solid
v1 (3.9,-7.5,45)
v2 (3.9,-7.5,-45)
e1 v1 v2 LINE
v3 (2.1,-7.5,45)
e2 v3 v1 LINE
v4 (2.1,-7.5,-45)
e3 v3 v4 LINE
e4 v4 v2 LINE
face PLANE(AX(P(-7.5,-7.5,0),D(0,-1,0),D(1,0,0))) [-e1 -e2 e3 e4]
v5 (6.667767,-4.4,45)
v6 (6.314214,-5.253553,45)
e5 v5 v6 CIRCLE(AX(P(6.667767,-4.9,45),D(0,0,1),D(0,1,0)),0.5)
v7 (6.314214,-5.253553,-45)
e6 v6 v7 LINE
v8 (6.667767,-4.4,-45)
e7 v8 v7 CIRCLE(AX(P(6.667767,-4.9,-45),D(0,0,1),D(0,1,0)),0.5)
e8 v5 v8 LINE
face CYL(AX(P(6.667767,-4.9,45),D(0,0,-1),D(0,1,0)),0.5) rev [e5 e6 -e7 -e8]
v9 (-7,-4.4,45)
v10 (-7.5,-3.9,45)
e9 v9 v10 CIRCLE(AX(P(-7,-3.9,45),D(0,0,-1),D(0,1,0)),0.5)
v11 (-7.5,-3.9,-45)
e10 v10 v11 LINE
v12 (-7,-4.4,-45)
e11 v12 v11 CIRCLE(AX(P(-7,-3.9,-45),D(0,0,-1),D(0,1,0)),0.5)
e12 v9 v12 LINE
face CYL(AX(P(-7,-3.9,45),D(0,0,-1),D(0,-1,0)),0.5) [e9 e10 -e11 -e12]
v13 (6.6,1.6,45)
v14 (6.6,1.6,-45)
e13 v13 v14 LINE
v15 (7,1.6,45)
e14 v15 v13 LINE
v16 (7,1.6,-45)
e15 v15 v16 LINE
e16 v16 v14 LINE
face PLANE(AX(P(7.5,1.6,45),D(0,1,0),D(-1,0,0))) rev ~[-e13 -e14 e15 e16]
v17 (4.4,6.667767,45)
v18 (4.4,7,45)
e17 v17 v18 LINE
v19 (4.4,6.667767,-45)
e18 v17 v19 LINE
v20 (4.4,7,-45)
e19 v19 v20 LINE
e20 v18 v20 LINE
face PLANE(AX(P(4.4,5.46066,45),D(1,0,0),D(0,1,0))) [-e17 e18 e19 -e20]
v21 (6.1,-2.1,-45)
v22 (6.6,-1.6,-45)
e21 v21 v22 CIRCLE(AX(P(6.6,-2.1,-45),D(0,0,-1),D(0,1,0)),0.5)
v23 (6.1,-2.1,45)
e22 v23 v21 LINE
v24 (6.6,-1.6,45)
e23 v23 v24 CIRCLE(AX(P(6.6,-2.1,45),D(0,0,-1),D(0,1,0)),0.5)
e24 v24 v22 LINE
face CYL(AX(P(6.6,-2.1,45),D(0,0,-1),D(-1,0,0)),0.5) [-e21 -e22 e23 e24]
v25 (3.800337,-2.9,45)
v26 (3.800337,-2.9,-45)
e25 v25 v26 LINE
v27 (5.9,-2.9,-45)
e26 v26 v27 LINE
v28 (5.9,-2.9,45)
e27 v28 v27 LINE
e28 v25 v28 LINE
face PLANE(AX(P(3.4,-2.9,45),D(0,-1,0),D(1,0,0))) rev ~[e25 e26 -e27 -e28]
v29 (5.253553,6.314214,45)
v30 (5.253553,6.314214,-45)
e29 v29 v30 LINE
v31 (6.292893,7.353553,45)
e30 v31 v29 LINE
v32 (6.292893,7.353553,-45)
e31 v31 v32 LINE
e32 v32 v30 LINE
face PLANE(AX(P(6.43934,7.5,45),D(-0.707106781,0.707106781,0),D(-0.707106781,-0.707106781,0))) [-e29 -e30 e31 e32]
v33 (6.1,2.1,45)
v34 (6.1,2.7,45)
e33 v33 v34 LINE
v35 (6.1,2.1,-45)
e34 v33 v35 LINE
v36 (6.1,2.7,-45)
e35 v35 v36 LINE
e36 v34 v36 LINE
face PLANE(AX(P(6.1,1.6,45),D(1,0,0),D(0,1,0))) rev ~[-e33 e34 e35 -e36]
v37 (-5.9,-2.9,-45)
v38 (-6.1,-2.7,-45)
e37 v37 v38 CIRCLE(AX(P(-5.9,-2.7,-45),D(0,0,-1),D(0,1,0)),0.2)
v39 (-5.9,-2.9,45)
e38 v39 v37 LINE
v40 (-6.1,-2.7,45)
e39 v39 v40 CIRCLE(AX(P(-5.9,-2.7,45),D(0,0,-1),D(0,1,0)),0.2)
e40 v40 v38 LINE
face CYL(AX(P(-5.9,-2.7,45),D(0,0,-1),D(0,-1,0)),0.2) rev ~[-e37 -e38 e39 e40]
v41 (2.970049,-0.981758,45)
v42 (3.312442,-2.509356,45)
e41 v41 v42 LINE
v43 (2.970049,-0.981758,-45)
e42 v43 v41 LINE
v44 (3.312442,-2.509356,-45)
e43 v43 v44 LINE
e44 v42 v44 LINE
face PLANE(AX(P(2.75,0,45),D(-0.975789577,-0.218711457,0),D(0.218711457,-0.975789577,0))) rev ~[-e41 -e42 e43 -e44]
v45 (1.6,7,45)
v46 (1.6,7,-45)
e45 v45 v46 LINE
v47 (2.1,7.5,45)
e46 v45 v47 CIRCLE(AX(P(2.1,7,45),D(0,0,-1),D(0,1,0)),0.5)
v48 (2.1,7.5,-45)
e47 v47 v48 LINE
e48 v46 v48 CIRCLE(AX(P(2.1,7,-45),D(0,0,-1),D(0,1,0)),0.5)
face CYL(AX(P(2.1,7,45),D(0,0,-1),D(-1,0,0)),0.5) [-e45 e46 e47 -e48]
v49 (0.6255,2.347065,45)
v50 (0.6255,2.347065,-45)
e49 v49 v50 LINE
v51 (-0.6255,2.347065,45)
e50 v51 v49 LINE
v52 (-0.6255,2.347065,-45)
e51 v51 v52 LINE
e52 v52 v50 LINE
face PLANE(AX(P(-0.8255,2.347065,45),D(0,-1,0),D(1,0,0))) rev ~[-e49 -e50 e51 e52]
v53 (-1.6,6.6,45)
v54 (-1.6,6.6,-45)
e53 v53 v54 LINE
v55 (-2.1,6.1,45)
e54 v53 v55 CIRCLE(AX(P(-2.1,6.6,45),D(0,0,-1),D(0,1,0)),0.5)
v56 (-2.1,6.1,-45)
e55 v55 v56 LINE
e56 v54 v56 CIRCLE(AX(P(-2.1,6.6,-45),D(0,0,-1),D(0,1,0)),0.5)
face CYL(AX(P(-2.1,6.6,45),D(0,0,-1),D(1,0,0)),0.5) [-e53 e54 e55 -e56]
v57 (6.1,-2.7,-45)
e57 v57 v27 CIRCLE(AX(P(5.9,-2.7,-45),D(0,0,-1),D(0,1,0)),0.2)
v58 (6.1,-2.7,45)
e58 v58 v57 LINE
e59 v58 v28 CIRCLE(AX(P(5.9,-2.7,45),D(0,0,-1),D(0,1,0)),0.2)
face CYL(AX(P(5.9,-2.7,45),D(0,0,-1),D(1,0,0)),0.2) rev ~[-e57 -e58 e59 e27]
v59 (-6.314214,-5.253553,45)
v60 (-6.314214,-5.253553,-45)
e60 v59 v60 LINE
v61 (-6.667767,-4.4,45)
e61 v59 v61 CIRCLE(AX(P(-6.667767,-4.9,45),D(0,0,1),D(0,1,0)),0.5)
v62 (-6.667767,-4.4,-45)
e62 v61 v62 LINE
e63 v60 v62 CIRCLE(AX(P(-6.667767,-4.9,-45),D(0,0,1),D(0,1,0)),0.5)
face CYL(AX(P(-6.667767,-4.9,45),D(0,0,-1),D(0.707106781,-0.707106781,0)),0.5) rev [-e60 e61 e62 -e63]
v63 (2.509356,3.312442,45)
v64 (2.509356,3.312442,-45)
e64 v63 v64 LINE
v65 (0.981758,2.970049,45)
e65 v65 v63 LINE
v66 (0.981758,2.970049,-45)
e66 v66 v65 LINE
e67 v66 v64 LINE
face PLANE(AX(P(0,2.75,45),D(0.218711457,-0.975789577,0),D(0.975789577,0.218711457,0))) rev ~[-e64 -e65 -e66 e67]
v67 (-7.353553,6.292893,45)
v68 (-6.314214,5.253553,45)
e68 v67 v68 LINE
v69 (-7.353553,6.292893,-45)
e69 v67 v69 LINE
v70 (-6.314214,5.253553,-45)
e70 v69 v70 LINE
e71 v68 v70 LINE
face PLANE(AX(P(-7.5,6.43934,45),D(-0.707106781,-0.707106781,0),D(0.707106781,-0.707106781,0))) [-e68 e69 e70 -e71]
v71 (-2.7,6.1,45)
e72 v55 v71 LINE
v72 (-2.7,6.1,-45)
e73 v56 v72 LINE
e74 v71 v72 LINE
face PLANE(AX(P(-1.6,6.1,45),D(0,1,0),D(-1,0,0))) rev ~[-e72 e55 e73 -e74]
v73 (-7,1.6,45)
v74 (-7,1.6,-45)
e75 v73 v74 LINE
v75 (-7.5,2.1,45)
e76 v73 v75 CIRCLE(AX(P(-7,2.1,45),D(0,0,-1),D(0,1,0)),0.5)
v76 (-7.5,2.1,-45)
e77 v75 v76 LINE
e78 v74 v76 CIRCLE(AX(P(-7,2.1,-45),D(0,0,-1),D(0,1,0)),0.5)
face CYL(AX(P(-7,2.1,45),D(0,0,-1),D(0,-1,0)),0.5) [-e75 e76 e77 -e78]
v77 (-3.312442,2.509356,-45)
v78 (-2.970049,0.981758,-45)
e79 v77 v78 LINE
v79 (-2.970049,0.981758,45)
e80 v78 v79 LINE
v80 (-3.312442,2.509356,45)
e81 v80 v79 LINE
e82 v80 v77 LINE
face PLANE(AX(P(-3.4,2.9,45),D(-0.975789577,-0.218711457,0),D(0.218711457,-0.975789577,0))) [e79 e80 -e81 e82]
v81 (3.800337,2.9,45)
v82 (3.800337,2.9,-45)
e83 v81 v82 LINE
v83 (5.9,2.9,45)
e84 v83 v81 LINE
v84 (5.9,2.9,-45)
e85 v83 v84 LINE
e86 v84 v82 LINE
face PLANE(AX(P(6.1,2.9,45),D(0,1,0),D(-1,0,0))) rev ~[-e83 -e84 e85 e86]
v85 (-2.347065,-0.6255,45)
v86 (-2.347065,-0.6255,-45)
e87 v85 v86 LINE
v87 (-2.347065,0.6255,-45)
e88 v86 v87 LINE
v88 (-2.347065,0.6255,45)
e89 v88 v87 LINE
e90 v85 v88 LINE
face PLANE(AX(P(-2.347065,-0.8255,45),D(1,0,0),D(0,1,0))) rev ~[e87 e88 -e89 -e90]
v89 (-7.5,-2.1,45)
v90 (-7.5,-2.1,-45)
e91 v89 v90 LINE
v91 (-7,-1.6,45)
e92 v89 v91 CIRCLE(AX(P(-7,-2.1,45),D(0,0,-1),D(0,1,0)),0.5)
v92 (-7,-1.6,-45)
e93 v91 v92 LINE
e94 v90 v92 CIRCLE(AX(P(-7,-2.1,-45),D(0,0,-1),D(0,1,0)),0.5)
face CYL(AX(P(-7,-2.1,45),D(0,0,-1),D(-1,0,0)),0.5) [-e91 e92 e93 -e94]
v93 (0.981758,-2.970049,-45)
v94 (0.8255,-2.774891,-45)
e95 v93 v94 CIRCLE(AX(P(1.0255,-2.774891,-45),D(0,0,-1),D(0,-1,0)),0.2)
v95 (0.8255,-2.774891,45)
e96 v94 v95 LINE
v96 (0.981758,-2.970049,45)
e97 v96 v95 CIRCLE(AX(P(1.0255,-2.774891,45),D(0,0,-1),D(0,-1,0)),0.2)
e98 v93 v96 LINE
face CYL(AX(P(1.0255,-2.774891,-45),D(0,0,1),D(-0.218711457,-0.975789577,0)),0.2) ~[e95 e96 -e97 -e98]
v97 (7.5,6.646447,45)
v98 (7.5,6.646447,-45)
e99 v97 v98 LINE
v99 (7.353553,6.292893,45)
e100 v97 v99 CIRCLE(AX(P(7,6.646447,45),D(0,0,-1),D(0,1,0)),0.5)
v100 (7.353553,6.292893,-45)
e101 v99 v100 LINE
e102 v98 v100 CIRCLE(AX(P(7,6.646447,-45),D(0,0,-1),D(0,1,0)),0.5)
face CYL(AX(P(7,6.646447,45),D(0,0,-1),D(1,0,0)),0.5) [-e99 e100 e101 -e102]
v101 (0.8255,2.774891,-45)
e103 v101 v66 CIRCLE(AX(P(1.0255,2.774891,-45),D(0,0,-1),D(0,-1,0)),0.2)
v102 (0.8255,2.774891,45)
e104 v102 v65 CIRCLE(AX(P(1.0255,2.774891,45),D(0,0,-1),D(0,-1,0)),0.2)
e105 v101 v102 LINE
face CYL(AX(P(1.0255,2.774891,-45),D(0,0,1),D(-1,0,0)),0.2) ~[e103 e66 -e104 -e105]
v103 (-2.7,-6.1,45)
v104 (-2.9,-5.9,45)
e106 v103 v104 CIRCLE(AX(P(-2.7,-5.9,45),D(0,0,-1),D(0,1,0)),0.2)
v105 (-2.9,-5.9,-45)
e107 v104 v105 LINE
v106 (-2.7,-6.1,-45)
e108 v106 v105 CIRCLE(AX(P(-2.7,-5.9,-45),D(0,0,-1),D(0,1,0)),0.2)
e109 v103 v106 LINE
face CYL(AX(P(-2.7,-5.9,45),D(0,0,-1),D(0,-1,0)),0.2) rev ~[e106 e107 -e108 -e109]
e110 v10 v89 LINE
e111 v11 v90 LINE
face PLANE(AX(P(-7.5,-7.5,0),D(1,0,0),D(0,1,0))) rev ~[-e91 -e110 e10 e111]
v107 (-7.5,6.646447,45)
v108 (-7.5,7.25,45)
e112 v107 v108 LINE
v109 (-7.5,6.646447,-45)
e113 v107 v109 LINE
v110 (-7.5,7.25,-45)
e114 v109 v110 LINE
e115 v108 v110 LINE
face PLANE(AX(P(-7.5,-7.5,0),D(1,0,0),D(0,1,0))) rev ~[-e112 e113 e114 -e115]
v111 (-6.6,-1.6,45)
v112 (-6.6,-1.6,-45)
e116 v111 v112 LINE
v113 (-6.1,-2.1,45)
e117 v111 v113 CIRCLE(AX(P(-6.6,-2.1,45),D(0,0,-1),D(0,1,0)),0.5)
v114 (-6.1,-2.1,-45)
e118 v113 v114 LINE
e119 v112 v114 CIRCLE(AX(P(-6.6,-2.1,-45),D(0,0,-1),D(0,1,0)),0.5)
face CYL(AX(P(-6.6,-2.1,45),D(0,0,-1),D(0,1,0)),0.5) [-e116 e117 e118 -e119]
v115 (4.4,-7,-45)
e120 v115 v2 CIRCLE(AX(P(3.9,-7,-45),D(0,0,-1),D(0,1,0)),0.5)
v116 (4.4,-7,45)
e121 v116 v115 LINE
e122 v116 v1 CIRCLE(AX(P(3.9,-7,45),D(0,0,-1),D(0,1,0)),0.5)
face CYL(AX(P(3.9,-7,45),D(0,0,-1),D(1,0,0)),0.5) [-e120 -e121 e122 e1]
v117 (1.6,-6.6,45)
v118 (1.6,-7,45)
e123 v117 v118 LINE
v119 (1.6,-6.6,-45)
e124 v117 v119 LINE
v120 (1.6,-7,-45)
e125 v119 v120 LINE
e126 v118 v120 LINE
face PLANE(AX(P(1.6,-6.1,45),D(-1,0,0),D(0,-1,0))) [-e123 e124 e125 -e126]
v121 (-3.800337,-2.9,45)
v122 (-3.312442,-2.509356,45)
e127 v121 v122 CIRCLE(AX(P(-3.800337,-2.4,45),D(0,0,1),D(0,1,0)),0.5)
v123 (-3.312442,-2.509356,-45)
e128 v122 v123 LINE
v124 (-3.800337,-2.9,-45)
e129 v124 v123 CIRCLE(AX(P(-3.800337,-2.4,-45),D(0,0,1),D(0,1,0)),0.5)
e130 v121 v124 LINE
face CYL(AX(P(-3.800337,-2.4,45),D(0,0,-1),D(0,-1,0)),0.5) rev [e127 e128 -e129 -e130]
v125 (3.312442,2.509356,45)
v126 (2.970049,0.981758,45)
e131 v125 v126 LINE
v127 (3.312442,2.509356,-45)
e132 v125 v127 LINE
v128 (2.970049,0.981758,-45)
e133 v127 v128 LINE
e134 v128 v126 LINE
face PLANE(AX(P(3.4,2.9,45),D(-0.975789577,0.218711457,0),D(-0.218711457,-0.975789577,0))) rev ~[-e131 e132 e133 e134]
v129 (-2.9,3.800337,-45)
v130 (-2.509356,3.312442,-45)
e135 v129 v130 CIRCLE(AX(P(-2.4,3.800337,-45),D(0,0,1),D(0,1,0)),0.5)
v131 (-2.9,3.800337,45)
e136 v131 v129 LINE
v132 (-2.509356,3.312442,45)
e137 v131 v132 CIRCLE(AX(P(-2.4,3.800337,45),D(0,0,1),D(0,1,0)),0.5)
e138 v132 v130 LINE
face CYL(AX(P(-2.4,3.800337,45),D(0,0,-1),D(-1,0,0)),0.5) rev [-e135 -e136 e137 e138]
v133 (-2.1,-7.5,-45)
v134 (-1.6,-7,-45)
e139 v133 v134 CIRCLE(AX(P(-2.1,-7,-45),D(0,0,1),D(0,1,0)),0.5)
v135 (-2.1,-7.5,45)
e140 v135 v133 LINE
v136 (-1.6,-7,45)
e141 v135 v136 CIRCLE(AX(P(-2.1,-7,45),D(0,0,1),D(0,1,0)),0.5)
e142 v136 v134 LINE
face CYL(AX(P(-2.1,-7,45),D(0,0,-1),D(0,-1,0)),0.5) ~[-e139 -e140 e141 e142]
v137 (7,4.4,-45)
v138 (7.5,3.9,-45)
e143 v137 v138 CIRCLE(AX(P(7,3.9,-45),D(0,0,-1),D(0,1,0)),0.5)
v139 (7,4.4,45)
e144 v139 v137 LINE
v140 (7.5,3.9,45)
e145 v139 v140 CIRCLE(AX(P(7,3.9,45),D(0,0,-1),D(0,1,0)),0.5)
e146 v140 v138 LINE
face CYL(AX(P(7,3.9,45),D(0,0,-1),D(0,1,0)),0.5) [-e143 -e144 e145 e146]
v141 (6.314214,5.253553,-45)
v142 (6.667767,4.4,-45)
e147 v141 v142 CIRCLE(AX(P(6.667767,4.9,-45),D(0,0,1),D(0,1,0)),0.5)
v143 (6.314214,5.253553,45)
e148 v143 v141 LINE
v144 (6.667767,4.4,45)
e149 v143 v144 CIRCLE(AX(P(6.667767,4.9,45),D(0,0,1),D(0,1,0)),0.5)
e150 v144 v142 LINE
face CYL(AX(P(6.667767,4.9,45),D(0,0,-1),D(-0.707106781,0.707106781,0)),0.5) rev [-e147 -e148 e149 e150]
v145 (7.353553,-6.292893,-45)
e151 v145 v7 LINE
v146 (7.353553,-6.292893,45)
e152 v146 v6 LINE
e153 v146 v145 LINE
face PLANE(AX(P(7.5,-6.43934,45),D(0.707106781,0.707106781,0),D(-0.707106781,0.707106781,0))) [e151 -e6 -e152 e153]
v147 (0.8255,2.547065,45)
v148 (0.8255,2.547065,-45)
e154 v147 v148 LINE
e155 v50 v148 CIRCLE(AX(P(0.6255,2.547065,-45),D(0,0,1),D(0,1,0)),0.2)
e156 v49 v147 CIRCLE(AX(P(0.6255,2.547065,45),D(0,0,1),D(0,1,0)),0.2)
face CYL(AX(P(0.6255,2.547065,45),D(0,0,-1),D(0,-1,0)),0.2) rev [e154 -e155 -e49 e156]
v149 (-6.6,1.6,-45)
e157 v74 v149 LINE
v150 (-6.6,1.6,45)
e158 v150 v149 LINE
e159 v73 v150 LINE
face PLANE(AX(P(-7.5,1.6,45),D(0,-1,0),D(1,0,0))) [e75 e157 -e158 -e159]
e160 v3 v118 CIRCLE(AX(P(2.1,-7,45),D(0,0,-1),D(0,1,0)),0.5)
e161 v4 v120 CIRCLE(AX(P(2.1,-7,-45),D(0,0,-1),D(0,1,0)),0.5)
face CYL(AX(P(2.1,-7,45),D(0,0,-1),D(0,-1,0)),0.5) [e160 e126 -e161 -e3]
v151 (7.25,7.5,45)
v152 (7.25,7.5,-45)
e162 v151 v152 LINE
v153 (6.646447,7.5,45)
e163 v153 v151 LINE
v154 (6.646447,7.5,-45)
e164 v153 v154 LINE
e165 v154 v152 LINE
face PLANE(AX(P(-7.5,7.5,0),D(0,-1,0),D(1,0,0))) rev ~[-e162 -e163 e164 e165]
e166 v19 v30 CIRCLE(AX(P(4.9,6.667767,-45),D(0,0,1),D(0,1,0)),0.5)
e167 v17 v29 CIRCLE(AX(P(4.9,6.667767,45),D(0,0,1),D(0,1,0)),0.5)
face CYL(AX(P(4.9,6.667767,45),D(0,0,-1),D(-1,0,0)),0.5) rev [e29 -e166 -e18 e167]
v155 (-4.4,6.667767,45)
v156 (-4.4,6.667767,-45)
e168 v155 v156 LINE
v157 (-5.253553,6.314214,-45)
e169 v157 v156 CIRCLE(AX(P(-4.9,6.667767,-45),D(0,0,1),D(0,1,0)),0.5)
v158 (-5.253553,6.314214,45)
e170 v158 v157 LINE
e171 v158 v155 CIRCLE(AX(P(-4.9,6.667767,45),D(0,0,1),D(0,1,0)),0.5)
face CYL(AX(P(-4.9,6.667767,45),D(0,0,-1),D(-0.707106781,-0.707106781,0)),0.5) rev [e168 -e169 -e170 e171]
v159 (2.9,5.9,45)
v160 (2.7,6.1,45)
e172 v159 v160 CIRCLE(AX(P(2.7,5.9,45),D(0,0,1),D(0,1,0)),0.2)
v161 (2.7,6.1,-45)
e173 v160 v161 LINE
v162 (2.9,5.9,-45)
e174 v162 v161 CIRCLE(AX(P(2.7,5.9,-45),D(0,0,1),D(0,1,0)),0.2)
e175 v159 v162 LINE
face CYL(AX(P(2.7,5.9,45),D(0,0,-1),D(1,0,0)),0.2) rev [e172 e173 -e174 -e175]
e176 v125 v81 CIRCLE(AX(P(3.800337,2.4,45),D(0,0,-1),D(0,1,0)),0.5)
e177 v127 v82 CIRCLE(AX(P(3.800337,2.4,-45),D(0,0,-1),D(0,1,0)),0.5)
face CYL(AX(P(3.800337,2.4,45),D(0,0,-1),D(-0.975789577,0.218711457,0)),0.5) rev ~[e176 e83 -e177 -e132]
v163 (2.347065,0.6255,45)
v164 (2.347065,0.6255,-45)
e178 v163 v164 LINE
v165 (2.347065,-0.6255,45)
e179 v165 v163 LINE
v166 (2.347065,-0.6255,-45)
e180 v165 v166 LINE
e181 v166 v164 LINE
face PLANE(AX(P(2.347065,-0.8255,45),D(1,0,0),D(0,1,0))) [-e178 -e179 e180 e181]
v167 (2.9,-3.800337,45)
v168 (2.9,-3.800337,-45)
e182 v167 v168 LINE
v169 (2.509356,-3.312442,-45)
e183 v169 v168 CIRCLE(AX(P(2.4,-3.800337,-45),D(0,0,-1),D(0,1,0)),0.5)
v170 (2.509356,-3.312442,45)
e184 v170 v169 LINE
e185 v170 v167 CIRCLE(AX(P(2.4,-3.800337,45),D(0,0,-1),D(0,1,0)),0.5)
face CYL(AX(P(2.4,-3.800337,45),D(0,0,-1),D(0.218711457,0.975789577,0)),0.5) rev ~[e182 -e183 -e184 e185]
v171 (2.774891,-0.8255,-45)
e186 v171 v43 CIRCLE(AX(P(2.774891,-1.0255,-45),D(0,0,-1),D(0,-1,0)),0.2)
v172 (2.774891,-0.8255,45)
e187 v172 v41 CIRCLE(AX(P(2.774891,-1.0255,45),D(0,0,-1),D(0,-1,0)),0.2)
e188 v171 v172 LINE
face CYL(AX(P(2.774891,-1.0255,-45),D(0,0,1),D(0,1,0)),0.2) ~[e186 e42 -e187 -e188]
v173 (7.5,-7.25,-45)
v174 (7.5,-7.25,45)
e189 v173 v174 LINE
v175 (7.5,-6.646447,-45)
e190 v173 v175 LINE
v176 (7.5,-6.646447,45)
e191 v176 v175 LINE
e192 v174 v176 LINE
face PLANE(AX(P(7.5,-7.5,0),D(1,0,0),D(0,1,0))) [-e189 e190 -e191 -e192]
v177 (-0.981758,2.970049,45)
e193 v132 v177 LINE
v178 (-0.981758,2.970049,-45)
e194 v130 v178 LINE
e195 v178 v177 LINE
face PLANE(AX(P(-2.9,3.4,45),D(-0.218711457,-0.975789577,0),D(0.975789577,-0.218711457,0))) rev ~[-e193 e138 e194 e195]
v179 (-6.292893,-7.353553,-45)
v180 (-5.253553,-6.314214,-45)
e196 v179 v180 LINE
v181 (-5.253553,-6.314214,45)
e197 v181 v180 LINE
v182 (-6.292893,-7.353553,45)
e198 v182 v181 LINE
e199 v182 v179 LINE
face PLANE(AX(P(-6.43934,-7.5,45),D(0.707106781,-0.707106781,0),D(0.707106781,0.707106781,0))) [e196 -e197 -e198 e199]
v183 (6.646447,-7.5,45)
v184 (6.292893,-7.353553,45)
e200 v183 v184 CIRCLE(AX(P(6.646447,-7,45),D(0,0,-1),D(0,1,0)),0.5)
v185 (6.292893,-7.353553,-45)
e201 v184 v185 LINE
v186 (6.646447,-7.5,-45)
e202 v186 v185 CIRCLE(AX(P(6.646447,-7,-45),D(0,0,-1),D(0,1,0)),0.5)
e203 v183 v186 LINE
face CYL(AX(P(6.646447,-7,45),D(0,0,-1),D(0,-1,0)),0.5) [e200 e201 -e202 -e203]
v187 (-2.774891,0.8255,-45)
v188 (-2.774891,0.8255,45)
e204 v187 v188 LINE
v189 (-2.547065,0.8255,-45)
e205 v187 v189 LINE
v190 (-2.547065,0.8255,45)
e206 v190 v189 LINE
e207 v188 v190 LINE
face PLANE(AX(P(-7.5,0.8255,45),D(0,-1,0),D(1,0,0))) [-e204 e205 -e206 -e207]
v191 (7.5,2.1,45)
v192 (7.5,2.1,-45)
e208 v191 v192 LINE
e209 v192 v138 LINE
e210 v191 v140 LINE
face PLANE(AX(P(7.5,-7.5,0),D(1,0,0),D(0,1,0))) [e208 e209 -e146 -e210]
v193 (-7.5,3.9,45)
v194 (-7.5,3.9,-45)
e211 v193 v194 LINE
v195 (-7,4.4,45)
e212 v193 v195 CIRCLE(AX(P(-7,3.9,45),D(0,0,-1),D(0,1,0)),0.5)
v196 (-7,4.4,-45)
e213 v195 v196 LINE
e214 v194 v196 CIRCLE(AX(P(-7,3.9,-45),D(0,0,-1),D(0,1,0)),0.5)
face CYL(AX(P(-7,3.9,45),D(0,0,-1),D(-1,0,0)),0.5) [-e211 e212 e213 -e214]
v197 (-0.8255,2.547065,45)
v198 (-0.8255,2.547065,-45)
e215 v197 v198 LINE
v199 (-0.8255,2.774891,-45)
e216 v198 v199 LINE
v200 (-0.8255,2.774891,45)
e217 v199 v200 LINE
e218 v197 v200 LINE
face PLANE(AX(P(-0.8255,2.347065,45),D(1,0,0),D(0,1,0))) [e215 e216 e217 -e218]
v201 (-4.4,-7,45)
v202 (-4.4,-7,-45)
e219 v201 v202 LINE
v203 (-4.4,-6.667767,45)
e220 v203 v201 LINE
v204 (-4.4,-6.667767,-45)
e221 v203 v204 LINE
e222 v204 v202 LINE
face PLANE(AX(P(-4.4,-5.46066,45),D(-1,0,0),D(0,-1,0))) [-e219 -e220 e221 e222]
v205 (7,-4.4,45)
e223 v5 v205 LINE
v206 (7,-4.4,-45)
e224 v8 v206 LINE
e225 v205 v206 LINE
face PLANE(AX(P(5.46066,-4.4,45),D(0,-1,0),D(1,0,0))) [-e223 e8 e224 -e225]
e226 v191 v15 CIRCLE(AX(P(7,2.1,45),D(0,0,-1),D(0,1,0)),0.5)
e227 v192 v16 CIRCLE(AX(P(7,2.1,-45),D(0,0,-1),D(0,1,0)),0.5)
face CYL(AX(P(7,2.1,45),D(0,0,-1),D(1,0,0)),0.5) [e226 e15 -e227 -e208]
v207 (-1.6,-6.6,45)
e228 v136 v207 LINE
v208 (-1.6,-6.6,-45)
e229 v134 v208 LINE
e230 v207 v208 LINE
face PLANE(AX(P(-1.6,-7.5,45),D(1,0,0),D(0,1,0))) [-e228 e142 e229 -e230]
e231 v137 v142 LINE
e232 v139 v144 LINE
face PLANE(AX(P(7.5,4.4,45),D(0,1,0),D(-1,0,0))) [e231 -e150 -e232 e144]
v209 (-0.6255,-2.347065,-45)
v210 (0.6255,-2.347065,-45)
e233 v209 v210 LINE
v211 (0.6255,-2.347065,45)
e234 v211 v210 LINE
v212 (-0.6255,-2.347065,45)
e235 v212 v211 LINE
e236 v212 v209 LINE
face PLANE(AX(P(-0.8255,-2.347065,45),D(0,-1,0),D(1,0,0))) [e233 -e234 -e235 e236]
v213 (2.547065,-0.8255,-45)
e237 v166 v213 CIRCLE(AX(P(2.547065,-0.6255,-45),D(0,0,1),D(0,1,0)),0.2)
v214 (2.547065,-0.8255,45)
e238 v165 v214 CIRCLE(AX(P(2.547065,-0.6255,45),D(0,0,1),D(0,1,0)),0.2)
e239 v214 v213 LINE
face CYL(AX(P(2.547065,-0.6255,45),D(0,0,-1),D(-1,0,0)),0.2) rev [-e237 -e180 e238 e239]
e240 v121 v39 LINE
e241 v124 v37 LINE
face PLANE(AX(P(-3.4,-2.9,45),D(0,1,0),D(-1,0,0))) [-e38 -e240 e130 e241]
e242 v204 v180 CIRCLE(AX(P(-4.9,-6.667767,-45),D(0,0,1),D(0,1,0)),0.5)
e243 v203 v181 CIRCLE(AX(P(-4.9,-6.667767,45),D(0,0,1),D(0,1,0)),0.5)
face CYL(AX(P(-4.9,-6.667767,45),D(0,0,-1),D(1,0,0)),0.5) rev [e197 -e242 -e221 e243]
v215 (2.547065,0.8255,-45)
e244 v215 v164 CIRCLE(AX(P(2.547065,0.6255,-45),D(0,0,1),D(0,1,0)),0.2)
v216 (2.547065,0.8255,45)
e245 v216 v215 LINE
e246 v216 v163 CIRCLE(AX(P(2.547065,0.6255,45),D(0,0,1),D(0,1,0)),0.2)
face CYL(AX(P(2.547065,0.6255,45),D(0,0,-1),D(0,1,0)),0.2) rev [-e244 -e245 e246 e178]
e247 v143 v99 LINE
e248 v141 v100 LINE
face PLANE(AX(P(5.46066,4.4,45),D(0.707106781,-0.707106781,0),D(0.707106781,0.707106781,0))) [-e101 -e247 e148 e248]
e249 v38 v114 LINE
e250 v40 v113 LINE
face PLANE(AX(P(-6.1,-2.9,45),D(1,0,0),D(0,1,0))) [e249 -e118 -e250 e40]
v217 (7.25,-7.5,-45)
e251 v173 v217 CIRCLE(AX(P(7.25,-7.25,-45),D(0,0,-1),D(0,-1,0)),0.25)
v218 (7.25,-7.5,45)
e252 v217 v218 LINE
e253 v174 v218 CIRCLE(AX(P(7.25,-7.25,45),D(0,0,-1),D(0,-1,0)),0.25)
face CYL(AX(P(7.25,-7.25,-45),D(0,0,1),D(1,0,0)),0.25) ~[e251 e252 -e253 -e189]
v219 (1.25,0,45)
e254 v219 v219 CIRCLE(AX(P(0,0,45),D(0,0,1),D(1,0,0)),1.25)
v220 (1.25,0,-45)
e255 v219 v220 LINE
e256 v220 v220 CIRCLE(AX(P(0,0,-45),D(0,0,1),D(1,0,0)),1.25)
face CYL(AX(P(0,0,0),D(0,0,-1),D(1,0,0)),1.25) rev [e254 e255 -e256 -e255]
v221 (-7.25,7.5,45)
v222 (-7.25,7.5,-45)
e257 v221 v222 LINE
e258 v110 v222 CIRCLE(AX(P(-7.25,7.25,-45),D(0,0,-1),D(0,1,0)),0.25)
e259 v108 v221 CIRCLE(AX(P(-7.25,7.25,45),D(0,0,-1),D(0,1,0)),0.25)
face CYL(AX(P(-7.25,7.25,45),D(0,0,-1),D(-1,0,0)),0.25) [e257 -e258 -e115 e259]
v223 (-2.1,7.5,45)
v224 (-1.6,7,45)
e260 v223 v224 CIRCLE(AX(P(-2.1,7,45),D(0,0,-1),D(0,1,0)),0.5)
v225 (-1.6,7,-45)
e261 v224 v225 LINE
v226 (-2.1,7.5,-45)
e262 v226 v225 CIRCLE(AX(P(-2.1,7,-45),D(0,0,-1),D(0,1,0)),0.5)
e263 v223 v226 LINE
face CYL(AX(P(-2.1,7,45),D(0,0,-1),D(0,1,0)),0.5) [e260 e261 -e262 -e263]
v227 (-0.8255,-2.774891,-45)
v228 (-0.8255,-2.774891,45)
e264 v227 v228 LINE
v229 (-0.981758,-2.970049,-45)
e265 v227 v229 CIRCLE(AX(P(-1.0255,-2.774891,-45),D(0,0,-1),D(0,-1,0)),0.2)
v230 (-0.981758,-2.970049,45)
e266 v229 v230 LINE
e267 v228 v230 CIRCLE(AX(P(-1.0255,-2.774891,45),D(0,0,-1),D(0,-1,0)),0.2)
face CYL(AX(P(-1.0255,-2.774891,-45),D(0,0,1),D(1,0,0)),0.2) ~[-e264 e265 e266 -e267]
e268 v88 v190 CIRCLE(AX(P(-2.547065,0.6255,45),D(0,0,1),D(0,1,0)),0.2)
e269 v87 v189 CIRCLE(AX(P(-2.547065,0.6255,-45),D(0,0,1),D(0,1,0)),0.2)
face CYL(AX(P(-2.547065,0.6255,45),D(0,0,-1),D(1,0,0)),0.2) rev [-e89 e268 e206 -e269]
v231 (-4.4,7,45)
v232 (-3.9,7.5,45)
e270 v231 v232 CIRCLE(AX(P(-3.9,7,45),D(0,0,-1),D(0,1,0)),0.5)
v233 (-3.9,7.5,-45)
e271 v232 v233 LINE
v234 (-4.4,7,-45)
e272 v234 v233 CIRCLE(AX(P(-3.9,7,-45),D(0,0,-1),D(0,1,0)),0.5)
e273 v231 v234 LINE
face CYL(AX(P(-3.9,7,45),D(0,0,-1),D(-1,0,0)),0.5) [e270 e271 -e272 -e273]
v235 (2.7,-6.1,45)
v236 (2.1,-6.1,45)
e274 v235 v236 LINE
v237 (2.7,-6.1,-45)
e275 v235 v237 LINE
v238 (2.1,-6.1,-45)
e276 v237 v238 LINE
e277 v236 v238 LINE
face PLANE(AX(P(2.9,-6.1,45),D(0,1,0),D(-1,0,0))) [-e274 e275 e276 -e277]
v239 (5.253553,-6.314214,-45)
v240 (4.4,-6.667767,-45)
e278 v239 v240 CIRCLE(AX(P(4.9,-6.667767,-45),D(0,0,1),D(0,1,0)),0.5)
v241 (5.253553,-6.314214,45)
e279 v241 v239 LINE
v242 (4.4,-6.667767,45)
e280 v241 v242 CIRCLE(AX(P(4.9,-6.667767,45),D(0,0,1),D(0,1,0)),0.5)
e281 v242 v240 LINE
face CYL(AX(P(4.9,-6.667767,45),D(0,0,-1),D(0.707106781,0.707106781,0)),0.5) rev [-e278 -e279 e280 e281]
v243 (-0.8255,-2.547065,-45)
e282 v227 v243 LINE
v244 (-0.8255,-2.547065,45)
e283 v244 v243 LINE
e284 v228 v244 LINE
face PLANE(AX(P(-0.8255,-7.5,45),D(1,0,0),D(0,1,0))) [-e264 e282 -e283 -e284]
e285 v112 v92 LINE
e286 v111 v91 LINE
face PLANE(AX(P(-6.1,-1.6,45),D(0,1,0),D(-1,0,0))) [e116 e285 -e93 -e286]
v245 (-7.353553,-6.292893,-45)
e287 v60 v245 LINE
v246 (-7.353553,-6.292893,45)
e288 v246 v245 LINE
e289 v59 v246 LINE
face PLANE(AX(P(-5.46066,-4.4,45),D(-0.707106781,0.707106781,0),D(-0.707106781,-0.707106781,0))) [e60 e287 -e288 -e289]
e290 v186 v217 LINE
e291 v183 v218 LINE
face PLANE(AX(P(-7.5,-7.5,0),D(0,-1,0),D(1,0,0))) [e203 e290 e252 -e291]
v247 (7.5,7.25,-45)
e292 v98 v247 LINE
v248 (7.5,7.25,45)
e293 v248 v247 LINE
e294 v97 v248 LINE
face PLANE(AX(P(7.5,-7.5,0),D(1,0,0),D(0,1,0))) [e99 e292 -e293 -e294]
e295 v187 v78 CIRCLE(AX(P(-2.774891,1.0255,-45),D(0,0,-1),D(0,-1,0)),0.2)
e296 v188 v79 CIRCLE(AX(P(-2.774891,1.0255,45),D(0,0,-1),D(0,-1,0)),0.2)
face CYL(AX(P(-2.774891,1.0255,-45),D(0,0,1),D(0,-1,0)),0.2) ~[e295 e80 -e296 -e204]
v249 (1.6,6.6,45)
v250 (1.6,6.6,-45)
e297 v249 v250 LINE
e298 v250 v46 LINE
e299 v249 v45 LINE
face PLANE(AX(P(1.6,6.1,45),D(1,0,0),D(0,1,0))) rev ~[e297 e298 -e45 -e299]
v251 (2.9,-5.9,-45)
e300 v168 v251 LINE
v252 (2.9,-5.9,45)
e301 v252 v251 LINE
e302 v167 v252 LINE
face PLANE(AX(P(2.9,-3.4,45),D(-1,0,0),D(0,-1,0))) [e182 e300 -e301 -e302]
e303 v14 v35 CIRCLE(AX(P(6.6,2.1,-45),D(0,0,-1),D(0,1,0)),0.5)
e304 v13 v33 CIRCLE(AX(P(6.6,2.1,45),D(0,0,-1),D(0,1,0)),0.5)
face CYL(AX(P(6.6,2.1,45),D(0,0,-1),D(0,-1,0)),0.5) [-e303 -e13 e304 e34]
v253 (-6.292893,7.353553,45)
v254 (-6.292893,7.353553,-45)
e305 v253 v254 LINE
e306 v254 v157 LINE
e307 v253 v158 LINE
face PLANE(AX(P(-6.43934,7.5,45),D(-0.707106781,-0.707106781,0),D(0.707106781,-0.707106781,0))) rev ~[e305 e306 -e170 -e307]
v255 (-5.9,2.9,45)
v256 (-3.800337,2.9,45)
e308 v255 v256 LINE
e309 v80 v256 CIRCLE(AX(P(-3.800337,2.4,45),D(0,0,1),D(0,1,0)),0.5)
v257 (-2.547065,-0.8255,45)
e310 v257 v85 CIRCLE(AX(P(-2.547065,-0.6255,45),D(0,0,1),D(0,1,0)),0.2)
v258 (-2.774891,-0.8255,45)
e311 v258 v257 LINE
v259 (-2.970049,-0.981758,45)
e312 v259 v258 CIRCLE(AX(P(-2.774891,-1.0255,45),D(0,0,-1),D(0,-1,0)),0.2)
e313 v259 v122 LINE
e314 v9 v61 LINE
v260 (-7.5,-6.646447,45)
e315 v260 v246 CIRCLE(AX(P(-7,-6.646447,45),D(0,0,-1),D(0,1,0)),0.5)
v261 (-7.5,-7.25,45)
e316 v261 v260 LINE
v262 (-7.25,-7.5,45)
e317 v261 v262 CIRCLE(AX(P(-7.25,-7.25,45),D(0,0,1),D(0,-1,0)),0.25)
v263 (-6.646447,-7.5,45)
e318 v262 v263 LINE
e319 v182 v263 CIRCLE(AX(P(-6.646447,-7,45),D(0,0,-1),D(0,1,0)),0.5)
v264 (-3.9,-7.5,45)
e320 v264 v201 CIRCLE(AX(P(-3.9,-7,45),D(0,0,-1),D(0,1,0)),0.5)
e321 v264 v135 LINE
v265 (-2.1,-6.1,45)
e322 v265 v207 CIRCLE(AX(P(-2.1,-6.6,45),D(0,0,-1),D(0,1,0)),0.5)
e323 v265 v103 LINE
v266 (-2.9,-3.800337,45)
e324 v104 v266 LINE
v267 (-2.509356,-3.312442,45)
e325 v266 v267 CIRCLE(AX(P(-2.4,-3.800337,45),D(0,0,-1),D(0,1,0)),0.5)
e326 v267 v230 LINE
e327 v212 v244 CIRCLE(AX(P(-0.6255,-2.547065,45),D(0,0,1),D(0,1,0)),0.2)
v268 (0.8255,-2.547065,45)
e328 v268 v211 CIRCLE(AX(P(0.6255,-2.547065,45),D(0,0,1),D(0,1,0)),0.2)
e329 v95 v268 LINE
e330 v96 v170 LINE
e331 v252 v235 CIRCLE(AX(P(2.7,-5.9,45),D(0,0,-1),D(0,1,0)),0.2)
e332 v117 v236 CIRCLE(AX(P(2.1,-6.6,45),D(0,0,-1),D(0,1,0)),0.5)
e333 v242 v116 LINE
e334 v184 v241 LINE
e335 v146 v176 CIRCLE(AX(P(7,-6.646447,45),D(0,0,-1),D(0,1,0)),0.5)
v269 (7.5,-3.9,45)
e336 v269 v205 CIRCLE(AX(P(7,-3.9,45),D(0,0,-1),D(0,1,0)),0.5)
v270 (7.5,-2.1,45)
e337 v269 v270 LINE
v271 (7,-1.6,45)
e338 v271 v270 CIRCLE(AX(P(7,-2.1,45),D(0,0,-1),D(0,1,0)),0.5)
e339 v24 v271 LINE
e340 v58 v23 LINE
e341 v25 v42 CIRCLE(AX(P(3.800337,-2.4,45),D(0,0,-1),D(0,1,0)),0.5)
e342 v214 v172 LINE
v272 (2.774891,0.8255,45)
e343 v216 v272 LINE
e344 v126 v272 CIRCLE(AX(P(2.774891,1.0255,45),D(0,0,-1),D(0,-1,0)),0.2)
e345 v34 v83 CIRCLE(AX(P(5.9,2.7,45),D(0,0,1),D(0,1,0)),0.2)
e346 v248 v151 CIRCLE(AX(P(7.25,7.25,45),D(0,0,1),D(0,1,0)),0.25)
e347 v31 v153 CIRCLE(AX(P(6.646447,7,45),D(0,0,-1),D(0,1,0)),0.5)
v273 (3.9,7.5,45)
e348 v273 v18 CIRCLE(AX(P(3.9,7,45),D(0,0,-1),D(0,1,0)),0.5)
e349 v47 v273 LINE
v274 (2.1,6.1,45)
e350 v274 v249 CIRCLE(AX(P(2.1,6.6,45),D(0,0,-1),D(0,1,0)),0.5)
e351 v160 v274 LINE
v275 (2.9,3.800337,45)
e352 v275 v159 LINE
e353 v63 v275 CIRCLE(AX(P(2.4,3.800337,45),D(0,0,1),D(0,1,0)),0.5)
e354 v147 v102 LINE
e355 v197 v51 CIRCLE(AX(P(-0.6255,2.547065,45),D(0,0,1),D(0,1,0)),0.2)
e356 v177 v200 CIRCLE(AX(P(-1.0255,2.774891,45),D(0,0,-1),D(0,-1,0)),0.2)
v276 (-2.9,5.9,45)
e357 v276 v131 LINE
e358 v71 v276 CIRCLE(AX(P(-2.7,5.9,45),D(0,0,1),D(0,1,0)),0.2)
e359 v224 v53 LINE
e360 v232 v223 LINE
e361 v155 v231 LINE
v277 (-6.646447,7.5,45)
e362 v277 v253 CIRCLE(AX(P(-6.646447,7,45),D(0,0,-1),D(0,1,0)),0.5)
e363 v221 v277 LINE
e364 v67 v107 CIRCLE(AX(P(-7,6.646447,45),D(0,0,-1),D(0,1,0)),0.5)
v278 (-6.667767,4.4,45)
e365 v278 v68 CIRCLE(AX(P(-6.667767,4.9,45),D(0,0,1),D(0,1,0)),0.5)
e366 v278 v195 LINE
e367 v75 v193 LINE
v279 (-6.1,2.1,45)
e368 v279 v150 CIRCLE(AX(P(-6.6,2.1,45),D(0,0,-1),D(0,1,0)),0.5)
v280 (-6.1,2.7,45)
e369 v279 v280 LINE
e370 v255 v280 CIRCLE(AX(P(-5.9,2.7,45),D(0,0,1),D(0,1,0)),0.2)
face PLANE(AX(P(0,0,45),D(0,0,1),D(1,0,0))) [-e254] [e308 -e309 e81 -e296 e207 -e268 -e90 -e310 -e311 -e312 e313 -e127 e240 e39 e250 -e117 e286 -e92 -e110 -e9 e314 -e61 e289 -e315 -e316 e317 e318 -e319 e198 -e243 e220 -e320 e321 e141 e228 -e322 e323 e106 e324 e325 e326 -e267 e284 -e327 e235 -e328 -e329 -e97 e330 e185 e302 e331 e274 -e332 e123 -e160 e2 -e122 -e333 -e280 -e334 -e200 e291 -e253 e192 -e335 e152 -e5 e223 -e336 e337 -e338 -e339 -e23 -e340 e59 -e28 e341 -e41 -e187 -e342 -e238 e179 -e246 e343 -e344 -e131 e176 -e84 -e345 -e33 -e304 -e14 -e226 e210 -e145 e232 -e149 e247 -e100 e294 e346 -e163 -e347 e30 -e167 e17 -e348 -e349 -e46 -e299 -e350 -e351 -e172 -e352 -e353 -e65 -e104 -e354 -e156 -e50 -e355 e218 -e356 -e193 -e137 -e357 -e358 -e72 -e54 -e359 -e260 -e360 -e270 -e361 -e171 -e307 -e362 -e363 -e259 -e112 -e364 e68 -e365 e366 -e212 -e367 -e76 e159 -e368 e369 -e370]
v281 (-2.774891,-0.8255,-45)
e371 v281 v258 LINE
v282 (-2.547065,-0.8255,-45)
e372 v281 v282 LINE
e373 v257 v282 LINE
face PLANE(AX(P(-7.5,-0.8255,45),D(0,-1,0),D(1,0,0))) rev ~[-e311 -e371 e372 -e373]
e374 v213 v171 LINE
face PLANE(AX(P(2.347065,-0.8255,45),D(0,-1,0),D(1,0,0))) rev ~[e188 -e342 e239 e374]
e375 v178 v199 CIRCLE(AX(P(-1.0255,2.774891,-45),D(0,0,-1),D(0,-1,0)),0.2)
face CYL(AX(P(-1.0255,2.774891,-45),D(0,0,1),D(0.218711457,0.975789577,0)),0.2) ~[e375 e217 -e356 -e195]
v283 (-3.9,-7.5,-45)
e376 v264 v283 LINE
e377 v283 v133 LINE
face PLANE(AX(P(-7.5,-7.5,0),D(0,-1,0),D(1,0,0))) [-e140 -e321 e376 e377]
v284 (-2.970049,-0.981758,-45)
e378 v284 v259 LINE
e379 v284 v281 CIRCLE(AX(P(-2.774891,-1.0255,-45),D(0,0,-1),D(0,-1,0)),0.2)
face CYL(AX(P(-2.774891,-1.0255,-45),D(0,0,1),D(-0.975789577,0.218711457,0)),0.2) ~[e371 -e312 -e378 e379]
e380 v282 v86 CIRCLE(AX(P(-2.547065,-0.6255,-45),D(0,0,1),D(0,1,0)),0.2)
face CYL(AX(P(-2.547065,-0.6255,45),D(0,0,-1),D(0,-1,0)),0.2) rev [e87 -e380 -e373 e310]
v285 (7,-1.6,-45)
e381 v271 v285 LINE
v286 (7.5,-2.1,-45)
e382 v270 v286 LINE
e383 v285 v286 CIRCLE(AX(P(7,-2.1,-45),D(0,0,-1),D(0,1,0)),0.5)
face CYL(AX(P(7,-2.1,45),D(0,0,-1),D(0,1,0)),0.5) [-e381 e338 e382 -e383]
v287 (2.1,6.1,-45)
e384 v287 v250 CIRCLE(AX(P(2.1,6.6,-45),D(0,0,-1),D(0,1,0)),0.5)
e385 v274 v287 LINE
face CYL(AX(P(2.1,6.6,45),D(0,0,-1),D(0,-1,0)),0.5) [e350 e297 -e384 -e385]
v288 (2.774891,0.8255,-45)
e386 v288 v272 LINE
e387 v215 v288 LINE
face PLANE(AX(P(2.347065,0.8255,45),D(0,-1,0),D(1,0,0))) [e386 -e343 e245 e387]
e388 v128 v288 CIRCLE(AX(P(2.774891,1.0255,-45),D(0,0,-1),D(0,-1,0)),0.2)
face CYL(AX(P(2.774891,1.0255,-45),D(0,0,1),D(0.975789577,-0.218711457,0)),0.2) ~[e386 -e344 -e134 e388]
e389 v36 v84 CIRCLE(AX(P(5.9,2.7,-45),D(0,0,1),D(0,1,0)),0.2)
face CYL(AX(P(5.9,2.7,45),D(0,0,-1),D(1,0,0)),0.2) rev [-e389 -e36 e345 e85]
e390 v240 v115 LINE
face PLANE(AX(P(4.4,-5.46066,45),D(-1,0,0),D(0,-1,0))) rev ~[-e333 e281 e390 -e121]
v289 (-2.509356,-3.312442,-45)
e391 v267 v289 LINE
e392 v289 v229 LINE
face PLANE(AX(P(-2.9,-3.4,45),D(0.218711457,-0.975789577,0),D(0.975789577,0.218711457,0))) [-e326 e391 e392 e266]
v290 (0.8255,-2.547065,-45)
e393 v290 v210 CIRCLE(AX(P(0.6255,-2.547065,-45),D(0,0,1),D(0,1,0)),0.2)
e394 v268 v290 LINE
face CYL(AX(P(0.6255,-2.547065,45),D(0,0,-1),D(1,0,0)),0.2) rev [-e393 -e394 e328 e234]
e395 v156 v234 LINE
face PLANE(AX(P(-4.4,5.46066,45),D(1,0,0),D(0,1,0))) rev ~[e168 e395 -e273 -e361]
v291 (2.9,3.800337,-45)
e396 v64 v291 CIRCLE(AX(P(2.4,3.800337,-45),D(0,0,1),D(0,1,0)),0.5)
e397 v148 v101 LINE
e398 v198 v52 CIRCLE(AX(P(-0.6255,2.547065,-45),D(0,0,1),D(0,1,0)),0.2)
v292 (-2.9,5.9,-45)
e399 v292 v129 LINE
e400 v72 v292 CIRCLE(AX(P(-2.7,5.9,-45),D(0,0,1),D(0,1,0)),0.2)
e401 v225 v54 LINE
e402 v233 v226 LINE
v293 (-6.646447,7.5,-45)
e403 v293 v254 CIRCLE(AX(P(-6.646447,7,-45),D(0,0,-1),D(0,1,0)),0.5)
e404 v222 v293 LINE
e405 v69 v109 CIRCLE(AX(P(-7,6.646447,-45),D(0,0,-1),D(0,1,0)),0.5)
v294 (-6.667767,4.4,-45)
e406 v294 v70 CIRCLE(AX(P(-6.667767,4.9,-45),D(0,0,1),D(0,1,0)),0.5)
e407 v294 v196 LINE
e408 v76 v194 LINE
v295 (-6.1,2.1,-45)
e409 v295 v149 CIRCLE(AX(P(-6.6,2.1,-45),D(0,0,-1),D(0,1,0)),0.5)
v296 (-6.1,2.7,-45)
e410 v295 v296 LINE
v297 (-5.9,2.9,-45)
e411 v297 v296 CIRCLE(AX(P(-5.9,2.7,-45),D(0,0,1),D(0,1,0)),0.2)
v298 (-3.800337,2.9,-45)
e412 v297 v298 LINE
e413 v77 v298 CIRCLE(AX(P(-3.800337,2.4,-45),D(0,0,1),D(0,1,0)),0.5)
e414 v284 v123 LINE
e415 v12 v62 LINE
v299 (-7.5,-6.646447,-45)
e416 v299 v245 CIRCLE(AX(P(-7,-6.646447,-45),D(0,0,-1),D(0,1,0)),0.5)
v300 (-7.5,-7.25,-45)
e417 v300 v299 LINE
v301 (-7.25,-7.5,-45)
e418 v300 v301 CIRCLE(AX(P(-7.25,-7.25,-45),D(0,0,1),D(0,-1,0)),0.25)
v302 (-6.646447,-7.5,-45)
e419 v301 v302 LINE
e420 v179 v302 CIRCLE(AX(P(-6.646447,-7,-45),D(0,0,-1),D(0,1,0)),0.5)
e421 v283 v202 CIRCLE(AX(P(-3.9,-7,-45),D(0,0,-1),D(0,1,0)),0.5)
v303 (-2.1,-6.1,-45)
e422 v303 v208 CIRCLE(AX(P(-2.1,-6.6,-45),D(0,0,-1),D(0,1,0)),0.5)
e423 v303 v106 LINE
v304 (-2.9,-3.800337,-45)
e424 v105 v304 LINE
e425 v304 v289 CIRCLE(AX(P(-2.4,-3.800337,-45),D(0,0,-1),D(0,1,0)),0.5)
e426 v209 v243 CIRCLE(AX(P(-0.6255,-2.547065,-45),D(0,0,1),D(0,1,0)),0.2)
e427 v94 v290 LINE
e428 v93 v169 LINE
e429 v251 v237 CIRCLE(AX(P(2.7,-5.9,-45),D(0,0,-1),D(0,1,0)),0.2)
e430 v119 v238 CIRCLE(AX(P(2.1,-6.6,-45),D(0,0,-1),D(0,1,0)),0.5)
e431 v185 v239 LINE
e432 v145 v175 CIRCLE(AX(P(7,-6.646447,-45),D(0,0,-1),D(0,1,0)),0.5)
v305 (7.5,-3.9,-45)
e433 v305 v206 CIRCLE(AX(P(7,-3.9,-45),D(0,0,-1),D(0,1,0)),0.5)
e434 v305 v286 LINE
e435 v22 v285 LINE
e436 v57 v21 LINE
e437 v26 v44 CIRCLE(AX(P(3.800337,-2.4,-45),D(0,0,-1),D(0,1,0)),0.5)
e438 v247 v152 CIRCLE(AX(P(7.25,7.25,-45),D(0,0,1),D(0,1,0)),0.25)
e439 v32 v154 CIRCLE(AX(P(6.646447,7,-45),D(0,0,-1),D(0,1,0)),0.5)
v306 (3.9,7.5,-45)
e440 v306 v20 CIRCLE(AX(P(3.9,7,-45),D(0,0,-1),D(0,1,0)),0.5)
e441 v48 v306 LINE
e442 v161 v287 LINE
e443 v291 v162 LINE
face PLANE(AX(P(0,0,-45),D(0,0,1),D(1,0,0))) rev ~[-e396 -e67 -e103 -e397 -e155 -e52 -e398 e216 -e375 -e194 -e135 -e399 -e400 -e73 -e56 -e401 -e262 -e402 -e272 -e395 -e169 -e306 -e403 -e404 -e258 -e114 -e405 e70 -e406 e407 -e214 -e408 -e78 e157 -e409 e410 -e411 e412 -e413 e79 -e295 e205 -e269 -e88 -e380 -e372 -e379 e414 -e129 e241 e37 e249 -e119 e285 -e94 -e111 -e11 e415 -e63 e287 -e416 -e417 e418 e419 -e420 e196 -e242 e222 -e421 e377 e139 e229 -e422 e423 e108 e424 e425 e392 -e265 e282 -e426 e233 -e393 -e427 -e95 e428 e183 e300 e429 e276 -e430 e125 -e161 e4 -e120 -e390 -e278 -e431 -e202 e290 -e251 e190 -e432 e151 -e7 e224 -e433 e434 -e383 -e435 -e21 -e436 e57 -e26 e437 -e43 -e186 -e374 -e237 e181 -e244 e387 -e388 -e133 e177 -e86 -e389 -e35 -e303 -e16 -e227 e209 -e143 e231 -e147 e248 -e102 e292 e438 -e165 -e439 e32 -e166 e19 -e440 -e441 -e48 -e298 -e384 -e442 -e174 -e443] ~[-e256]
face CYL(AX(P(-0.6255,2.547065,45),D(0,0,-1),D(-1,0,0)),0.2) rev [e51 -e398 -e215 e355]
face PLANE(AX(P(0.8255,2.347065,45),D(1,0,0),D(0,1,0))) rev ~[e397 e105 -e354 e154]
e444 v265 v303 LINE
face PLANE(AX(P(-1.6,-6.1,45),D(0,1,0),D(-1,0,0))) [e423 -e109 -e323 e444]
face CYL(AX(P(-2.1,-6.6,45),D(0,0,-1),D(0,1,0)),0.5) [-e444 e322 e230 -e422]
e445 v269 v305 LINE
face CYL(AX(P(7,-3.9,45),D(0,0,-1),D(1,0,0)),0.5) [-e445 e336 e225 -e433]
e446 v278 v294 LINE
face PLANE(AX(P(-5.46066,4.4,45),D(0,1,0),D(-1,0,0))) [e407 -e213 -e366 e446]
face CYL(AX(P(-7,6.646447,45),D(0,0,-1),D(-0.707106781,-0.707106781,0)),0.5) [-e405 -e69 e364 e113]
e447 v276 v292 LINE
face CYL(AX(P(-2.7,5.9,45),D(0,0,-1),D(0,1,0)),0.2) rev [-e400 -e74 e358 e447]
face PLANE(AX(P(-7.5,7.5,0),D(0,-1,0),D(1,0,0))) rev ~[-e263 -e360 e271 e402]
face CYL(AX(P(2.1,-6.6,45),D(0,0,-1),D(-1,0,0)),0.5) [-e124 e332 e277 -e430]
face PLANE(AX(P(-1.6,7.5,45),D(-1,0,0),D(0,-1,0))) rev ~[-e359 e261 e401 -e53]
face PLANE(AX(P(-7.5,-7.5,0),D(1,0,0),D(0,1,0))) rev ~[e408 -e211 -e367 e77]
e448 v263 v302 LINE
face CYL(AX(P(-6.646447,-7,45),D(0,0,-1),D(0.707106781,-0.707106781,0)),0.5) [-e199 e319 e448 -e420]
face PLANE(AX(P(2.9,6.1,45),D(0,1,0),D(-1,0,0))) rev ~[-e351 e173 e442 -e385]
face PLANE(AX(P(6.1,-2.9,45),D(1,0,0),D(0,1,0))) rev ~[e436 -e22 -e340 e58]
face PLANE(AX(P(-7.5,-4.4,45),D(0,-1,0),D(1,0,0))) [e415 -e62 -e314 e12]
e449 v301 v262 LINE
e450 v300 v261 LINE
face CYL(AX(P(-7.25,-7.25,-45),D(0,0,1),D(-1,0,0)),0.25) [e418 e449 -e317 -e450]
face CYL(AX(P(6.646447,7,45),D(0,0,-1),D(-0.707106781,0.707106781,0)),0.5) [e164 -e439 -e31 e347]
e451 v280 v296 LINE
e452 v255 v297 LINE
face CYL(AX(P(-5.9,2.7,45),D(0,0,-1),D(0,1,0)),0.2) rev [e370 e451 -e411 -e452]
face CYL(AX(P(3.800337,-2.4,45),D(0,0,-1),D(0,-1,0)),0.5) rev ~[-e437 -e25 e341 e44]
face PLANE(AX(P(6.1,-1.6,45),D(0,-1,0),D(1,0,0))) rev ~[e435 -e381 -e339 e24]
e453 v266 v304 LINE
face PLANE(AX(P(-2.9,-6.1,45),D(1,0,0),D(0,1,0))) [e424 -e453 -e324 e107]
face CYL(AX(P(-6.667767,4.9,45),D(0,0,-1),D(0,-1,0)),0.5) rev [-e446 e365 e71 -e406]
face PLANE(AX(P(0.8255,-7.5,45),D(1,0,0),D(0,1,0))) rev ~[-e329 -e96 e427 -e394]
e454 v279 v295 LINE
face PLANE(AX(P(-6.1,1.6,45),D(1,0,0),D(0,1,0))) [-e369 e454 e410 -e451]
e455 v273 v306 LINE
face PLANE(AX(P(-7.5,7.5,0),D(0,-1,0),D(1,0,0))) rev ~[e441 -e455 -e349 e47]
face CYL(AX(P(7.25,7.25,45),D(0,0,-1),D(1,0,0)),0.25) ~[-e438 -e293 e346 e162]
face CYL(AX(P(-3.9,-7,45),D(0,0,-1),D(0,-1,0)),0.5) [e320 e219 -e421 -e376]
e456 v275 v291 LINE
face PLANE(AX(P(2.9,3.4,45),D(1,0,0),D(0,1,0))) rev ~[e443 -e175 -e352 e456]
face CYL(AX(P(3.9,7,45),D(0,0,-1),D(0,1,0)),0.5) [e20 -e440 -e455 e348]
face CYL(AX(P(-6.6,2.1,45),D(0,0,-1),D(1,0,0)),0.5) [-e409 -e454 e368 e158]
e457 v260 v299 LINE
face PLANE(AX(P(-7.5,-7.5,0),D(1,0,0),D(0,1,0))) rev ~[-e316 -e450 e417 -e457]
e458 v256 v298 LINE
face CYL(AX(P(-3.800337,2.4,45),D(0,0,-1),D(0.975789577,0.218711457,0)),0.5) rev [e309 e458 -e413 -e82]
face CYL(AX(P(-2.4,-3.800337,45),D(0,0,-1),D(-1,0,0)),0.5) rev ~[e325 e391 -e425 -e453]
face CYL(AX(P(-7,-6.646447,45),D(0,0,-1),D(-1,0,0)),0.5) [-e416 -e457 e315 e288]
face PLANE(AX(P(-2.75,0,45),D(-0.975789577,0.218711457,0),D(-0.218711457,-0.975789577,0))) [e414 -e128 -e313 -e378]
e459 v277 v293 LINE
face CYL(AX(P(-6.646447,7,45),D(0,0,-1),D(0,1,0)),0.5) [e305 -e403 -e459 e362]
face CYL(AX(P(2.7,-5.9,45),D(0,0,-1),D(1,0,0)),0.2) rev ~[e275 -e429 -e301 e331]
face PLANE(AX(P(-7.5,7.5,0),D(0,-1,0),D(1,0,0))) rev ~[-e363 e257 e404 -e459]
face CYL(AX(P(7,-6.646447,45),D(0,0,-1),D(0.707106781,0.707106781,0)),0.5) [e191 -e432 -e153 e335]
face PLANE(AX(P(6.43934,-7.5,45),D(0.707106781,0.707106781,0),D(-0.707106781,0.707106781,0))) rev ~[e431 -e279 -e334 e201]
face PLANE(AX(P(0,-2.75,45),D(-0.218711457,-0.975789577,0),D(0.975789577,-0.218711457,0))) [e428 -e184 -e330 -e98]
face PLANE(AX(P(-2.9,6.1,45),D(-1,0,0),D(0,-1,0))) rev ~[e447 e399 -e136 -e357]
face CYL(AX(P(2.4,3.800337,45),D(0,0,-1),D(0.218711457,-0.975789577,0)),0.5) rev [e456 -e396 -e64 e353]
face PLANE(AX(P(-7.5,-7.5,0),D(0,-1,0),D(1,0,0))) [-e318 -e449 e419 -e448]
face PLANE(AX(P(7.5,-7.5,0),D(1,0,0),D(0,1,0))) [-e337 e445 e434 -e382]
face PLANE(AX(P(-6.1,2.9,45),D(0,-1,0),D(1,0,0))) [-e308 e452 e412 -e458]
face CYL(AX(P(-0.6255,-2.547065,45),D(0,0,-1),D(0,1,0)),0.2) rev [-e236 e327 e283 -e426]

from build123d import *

# Parameters (mm, degrees)
SKETCH1_W           = 15
SKETCH1_H           = 15
SKETCH1_R           = 1.25
BOSS_EXTRUDE1_DEPTH = 45
FILLET1_R           = 0.25
CUT_EXTRUDE1_DEPTH  = 91.622844802
CUT_EXTRUDE3_DEPTH  = 91.622844802
FILLET3_R           = 0.5
FILLET4_R           = 0.5
FILLET5_R           = 3
FILLET6_R           = 0.2
CUT_EXTRUDE4_DEPTH  = 91.622844802
FILLET8_R           = 0.5
SKETCH6_W           = 5.1529354
SKETCH6_H           = 1.651
SKETCH6_W_2         = 1.651
SKETCH6_H_2         = 5.1529354
CUT_EXTRUDE5_DEPTH  = 91.622844802
FILLET10_R          = 0.2


with BuildPart() as part:
    # Sketch1 → Boss-Extrude1 (new, symmetric)
    with BuildSketch(Plane.XY):
        Rectangle(SKETCH1_W, SKETCH1_H)
        Circle(SKETCH1_R, mode=Mode.SUBTRACT)
    extrude(amount=BOSS_EXTRUDE1_DEPTH, both=True)

    # Fillet1
    fillet1_edges = [part.edges().sort_by_distance(p)[0] for p in [
        (7.5, -7.5, 0),
        (-7.5, -7.5, 0),
        (-7.5, 7.5, 0),
        (7.5, 7.5, 0),
    ]]
    fillet(fillet1_edges, radius=FILLET1_R)

    # Sketch2 → Cut-Extrude1 (cut, through all)
    with BuildSketch(Plane.XY.offset(45)):
        Polygon((-7.5, 1.6), (-6.1, 1.6), (-6.1, 2.9), (-3.4, 2.9), (-3.4, -2.9), (-6.1, -2.9), (-6.1, -1.6), (-7.5, -1.6), align=None)
        Polygon((2.9, 6.1), (1.6, 6.1), (1.6, 7.5), (-1.6, 7.5), (-1.6, 6.1), (-2.9, 6.1), (-2.9, 3.4), (2.9, 3.4), align=None)
        Polygon((-1.6, -7.5), (-1.6, -6.1), (-2.9, -6.1), (-2.9, -3.4), (2.9, -3.4), (2.9, -6.1), (1.6, -6.1), (1.6, -7.5), align=None)
        Polygon((6.1, -2.9), (6.1, -1.6), (7.5, -1.6), (7.5, 1.6), (6.1, 1.6), (6.1, 2.9), (3.4, 2.9), (3.4, -2.9), align=None)
    extrude(amount=-CUT_EXTRUDE1_DEPTH, mode=Mode.SUBTRACT)

    # Sketch4 → Cut-Extrude3 (cut, through all)
    with BuildSketch(Plane.XY.offset(45)):
        Polygon((-3.4, 2.9), (-2.75, 0), (-3.4, -2.9), align=None)
        Polygon((-2.9, 3.4), (0, 2.75), (2.9, 3.4), align=None)
        Polygon((3.4, 2.9), (2.75, 0), (3.4, -2.9), align=None)
        Polygon((-2.9, -3.4), (0, -2.75), (2.9, -3.4), align=None)
    extrude(amount=-CUT_EXTRUDE3_DEPTH, mode=Mode.SUBTRACT)

    # Fillet3
    fillet3_edges = [part.edges().sort_by_distance(p)[0] for p in [
        (1.6, -7.5, 0),
        (-1.6, -7.5, 0),
        (-1.6, -6.1, 0),
        (1.6, -6.1, 0),
        (6.1, 1.6, 0),
        (7.5, 1.6, 0),
        (7.5, -1.6, 0),
        (6.1, -1.6, 0),
        (-7.5, -1.6, 0),
        (-7.5, 1.6, 0),
        (-6.1, 1.6, 0),
        (-6.1, -1.6, 0),
        (-1.6, 6.1, 0),
        (-1.6, 7.5, 0),
        (1.6, 7.5, 0),
        (1.6, 6.1, 0),
    ]]
    fillet(fillet3_edges, radius=FILLET3_R)

    # Fillet4
    fillet4_edges = [part.edges().sort_by_distance(p)[0] for p in [
        (-2.9, -3.4, 0),
        (2.9, -3.4, 0),
        (3.4, -2.9, 0),
        (3.4, 2.9, 0),
        (-3.4, 2.9, 0),
        (-3.4, -2.9, 0),
        (2.9, 3.4, 0),
        (-2.9, 3.4, 0),
    ]]
    fillet(fillet4_edges, radius=FILLET4_R)

    # Fillet5
    fillet5_edges = [part.edges().sort_by_distance(p)[0] for p in [
        (-2.75, 0, 0),
        (0, 2.75, 0),
        (2.75, 0, 0),
        (0, -2.75, 0),
    ]]
    fillet(fillet5_edges, radius=FILLET5_R)

    # Fillet6
    fillet6_edges = [part.edges().sort_by_distance(p)[0] for p in [
        (-2.9, -6.1, 0),
        (2.9, -6.1, 0),
        (6.1, -2.9, 0),
        (6.1, 2.9, 0),
        (-6.1, 2.9, 0),
        (-6.1, -2.9, 0),
        (2.9, 6.1, 0),
        (-2.9, 6.1, 0),
    ]]
    fillet(fillet6_edges, radius=FILLET6_R)

    # Sketch5 → Cut-Extrude4 (cut, through all)
    with BuildSketch(Plane.XY.offset(45)):
        Polygon((-7.5, 6.439339828), (-5.460660172, 4.4), (-7.5, 4.4), align=None)
        Polygon((-6.439339828, 7.5), (-4.4, 5.460660172), (-4.4, 7.5), align=None)
        Polygon((4.4, 7.5), (6.439339828, 7.5), (4.4, 5.460660172), align=None)
        Polygon((7.5, 6.439339828), (7.5, 4.4), (5.460660172, 4.4), align=None)
        Polygon((7.5, -6.439339828), (5.460660172, -4.4), (7.5, -4.4), align=None)
        Polygon((6.439339828, -7.5), (4.4, -5.460660172), (4.4, -7.5), align=None)
        Polygon((-4.4, -7.5), (-6.439339828, -7.5), (-4.4, -5.460660172), align=None)
        Polygon((-7.5, -6.439339828), (-7.5, -4.4), (-5.460660172, -4.4), align=None)
    extrude(amount=-CUT_EXTRUDE4_DEPTH, mode=Mode.SUBTRACT)

    # Fillet8
    fillet8_edges = [part.edges().sort_by_distance(p)[0] for p in [
        (-7.5, 4.4, 0),
        (-7.5, 6.439339828, 0),
        (-5.460660172, 4.4, 0),
        (7.5, -4.4, 0),
        (7.5, -6.439339828, 0),
        (5.460660172, -4.4, 0),
        (5.460660172, 4.4, 0),
        (7.5, 6.439339828, 0),
        (7.5, 4.4, 0),
        (-4.4, 7.5, 0),
        (-4.4, 5.460660172, 0),
        (-6.439339828, 7.5, 0),
        (-5.460660172, -4.4, 0),
        (-7.5, -6.439339828, 0),
        (-7.5, -4.4, 0),
        (4.4, 5.460660172, 0),
        (4.4, 7.5, 0),
        (6.439339828, 7.5, 0),
        (6.439339828, -7.5, 0),
        (4.4, -7.5, 0),
        (4.4, -5.460660172, 0),
        (-6.439339828, -7.5, 0),
        (-4.4, -5.460660172, 0),
        (-4.4, -7.5, 0),
    ]]
    fillet(fillet8_edges, radius=FILLET8_R)

    # Sketch6 → Cut-Extrude5 (cut, through all)
    with BuildSketch(Plane.XY.offset(45)):
        with Locations((4.9235323, 0)):
            Rectangle(SKETCH6_W, SKETCH6_H)
        with Locations((0, -4.9235323)):
            Rectangle(SKETCH6_W_2, SKETCH6_H_2)
        with Locations((-4.9235323, 0)):
            Rectangle(SKETCH6_W, SKETCH6_H)
        with Locations((0, 4.9235323)):
            Rectangle(SKETCH6_W_2, SKETCH6_H_2)
    extrude(amount=-CUT_EXTRUDE5_DEPTH, mode=Mode.SUBTRACT)

    # Fillet10
    fillet10_edges = [part.edges().sort_by_distance(p)[0] for p in [
        (0.8255, -2.935025862, 0),
        (-0.8255, -2.935025862, 0),
        (0.8255, -2.3470646, 0),
        (-0.8255, -2.3470646, 0),
        (2.935025862, 0.8255, 0),
        (2.935025862, -0.8255, 0),
        (2.3470646, 0.8255, 0),
        (2.3470646, -0.8255, 0),
        (-2.935025862, -0.8255, 0),
        (-2.935025862, 0.8255, 0),
        (-2.3470646, -0.8255, 0),
        (-2.3470646, 0.8255, 0),
        (-0.8255, 2.935025862, 0),
        (0.8255, 2.935025862, 0),
        (-0.8255, 2.3470646, 0),
        (0.8255, 2.3470646, 0),
    ]]
    fillet(fillet10_edges, radius=FILLET10_R)


solid = part.part
